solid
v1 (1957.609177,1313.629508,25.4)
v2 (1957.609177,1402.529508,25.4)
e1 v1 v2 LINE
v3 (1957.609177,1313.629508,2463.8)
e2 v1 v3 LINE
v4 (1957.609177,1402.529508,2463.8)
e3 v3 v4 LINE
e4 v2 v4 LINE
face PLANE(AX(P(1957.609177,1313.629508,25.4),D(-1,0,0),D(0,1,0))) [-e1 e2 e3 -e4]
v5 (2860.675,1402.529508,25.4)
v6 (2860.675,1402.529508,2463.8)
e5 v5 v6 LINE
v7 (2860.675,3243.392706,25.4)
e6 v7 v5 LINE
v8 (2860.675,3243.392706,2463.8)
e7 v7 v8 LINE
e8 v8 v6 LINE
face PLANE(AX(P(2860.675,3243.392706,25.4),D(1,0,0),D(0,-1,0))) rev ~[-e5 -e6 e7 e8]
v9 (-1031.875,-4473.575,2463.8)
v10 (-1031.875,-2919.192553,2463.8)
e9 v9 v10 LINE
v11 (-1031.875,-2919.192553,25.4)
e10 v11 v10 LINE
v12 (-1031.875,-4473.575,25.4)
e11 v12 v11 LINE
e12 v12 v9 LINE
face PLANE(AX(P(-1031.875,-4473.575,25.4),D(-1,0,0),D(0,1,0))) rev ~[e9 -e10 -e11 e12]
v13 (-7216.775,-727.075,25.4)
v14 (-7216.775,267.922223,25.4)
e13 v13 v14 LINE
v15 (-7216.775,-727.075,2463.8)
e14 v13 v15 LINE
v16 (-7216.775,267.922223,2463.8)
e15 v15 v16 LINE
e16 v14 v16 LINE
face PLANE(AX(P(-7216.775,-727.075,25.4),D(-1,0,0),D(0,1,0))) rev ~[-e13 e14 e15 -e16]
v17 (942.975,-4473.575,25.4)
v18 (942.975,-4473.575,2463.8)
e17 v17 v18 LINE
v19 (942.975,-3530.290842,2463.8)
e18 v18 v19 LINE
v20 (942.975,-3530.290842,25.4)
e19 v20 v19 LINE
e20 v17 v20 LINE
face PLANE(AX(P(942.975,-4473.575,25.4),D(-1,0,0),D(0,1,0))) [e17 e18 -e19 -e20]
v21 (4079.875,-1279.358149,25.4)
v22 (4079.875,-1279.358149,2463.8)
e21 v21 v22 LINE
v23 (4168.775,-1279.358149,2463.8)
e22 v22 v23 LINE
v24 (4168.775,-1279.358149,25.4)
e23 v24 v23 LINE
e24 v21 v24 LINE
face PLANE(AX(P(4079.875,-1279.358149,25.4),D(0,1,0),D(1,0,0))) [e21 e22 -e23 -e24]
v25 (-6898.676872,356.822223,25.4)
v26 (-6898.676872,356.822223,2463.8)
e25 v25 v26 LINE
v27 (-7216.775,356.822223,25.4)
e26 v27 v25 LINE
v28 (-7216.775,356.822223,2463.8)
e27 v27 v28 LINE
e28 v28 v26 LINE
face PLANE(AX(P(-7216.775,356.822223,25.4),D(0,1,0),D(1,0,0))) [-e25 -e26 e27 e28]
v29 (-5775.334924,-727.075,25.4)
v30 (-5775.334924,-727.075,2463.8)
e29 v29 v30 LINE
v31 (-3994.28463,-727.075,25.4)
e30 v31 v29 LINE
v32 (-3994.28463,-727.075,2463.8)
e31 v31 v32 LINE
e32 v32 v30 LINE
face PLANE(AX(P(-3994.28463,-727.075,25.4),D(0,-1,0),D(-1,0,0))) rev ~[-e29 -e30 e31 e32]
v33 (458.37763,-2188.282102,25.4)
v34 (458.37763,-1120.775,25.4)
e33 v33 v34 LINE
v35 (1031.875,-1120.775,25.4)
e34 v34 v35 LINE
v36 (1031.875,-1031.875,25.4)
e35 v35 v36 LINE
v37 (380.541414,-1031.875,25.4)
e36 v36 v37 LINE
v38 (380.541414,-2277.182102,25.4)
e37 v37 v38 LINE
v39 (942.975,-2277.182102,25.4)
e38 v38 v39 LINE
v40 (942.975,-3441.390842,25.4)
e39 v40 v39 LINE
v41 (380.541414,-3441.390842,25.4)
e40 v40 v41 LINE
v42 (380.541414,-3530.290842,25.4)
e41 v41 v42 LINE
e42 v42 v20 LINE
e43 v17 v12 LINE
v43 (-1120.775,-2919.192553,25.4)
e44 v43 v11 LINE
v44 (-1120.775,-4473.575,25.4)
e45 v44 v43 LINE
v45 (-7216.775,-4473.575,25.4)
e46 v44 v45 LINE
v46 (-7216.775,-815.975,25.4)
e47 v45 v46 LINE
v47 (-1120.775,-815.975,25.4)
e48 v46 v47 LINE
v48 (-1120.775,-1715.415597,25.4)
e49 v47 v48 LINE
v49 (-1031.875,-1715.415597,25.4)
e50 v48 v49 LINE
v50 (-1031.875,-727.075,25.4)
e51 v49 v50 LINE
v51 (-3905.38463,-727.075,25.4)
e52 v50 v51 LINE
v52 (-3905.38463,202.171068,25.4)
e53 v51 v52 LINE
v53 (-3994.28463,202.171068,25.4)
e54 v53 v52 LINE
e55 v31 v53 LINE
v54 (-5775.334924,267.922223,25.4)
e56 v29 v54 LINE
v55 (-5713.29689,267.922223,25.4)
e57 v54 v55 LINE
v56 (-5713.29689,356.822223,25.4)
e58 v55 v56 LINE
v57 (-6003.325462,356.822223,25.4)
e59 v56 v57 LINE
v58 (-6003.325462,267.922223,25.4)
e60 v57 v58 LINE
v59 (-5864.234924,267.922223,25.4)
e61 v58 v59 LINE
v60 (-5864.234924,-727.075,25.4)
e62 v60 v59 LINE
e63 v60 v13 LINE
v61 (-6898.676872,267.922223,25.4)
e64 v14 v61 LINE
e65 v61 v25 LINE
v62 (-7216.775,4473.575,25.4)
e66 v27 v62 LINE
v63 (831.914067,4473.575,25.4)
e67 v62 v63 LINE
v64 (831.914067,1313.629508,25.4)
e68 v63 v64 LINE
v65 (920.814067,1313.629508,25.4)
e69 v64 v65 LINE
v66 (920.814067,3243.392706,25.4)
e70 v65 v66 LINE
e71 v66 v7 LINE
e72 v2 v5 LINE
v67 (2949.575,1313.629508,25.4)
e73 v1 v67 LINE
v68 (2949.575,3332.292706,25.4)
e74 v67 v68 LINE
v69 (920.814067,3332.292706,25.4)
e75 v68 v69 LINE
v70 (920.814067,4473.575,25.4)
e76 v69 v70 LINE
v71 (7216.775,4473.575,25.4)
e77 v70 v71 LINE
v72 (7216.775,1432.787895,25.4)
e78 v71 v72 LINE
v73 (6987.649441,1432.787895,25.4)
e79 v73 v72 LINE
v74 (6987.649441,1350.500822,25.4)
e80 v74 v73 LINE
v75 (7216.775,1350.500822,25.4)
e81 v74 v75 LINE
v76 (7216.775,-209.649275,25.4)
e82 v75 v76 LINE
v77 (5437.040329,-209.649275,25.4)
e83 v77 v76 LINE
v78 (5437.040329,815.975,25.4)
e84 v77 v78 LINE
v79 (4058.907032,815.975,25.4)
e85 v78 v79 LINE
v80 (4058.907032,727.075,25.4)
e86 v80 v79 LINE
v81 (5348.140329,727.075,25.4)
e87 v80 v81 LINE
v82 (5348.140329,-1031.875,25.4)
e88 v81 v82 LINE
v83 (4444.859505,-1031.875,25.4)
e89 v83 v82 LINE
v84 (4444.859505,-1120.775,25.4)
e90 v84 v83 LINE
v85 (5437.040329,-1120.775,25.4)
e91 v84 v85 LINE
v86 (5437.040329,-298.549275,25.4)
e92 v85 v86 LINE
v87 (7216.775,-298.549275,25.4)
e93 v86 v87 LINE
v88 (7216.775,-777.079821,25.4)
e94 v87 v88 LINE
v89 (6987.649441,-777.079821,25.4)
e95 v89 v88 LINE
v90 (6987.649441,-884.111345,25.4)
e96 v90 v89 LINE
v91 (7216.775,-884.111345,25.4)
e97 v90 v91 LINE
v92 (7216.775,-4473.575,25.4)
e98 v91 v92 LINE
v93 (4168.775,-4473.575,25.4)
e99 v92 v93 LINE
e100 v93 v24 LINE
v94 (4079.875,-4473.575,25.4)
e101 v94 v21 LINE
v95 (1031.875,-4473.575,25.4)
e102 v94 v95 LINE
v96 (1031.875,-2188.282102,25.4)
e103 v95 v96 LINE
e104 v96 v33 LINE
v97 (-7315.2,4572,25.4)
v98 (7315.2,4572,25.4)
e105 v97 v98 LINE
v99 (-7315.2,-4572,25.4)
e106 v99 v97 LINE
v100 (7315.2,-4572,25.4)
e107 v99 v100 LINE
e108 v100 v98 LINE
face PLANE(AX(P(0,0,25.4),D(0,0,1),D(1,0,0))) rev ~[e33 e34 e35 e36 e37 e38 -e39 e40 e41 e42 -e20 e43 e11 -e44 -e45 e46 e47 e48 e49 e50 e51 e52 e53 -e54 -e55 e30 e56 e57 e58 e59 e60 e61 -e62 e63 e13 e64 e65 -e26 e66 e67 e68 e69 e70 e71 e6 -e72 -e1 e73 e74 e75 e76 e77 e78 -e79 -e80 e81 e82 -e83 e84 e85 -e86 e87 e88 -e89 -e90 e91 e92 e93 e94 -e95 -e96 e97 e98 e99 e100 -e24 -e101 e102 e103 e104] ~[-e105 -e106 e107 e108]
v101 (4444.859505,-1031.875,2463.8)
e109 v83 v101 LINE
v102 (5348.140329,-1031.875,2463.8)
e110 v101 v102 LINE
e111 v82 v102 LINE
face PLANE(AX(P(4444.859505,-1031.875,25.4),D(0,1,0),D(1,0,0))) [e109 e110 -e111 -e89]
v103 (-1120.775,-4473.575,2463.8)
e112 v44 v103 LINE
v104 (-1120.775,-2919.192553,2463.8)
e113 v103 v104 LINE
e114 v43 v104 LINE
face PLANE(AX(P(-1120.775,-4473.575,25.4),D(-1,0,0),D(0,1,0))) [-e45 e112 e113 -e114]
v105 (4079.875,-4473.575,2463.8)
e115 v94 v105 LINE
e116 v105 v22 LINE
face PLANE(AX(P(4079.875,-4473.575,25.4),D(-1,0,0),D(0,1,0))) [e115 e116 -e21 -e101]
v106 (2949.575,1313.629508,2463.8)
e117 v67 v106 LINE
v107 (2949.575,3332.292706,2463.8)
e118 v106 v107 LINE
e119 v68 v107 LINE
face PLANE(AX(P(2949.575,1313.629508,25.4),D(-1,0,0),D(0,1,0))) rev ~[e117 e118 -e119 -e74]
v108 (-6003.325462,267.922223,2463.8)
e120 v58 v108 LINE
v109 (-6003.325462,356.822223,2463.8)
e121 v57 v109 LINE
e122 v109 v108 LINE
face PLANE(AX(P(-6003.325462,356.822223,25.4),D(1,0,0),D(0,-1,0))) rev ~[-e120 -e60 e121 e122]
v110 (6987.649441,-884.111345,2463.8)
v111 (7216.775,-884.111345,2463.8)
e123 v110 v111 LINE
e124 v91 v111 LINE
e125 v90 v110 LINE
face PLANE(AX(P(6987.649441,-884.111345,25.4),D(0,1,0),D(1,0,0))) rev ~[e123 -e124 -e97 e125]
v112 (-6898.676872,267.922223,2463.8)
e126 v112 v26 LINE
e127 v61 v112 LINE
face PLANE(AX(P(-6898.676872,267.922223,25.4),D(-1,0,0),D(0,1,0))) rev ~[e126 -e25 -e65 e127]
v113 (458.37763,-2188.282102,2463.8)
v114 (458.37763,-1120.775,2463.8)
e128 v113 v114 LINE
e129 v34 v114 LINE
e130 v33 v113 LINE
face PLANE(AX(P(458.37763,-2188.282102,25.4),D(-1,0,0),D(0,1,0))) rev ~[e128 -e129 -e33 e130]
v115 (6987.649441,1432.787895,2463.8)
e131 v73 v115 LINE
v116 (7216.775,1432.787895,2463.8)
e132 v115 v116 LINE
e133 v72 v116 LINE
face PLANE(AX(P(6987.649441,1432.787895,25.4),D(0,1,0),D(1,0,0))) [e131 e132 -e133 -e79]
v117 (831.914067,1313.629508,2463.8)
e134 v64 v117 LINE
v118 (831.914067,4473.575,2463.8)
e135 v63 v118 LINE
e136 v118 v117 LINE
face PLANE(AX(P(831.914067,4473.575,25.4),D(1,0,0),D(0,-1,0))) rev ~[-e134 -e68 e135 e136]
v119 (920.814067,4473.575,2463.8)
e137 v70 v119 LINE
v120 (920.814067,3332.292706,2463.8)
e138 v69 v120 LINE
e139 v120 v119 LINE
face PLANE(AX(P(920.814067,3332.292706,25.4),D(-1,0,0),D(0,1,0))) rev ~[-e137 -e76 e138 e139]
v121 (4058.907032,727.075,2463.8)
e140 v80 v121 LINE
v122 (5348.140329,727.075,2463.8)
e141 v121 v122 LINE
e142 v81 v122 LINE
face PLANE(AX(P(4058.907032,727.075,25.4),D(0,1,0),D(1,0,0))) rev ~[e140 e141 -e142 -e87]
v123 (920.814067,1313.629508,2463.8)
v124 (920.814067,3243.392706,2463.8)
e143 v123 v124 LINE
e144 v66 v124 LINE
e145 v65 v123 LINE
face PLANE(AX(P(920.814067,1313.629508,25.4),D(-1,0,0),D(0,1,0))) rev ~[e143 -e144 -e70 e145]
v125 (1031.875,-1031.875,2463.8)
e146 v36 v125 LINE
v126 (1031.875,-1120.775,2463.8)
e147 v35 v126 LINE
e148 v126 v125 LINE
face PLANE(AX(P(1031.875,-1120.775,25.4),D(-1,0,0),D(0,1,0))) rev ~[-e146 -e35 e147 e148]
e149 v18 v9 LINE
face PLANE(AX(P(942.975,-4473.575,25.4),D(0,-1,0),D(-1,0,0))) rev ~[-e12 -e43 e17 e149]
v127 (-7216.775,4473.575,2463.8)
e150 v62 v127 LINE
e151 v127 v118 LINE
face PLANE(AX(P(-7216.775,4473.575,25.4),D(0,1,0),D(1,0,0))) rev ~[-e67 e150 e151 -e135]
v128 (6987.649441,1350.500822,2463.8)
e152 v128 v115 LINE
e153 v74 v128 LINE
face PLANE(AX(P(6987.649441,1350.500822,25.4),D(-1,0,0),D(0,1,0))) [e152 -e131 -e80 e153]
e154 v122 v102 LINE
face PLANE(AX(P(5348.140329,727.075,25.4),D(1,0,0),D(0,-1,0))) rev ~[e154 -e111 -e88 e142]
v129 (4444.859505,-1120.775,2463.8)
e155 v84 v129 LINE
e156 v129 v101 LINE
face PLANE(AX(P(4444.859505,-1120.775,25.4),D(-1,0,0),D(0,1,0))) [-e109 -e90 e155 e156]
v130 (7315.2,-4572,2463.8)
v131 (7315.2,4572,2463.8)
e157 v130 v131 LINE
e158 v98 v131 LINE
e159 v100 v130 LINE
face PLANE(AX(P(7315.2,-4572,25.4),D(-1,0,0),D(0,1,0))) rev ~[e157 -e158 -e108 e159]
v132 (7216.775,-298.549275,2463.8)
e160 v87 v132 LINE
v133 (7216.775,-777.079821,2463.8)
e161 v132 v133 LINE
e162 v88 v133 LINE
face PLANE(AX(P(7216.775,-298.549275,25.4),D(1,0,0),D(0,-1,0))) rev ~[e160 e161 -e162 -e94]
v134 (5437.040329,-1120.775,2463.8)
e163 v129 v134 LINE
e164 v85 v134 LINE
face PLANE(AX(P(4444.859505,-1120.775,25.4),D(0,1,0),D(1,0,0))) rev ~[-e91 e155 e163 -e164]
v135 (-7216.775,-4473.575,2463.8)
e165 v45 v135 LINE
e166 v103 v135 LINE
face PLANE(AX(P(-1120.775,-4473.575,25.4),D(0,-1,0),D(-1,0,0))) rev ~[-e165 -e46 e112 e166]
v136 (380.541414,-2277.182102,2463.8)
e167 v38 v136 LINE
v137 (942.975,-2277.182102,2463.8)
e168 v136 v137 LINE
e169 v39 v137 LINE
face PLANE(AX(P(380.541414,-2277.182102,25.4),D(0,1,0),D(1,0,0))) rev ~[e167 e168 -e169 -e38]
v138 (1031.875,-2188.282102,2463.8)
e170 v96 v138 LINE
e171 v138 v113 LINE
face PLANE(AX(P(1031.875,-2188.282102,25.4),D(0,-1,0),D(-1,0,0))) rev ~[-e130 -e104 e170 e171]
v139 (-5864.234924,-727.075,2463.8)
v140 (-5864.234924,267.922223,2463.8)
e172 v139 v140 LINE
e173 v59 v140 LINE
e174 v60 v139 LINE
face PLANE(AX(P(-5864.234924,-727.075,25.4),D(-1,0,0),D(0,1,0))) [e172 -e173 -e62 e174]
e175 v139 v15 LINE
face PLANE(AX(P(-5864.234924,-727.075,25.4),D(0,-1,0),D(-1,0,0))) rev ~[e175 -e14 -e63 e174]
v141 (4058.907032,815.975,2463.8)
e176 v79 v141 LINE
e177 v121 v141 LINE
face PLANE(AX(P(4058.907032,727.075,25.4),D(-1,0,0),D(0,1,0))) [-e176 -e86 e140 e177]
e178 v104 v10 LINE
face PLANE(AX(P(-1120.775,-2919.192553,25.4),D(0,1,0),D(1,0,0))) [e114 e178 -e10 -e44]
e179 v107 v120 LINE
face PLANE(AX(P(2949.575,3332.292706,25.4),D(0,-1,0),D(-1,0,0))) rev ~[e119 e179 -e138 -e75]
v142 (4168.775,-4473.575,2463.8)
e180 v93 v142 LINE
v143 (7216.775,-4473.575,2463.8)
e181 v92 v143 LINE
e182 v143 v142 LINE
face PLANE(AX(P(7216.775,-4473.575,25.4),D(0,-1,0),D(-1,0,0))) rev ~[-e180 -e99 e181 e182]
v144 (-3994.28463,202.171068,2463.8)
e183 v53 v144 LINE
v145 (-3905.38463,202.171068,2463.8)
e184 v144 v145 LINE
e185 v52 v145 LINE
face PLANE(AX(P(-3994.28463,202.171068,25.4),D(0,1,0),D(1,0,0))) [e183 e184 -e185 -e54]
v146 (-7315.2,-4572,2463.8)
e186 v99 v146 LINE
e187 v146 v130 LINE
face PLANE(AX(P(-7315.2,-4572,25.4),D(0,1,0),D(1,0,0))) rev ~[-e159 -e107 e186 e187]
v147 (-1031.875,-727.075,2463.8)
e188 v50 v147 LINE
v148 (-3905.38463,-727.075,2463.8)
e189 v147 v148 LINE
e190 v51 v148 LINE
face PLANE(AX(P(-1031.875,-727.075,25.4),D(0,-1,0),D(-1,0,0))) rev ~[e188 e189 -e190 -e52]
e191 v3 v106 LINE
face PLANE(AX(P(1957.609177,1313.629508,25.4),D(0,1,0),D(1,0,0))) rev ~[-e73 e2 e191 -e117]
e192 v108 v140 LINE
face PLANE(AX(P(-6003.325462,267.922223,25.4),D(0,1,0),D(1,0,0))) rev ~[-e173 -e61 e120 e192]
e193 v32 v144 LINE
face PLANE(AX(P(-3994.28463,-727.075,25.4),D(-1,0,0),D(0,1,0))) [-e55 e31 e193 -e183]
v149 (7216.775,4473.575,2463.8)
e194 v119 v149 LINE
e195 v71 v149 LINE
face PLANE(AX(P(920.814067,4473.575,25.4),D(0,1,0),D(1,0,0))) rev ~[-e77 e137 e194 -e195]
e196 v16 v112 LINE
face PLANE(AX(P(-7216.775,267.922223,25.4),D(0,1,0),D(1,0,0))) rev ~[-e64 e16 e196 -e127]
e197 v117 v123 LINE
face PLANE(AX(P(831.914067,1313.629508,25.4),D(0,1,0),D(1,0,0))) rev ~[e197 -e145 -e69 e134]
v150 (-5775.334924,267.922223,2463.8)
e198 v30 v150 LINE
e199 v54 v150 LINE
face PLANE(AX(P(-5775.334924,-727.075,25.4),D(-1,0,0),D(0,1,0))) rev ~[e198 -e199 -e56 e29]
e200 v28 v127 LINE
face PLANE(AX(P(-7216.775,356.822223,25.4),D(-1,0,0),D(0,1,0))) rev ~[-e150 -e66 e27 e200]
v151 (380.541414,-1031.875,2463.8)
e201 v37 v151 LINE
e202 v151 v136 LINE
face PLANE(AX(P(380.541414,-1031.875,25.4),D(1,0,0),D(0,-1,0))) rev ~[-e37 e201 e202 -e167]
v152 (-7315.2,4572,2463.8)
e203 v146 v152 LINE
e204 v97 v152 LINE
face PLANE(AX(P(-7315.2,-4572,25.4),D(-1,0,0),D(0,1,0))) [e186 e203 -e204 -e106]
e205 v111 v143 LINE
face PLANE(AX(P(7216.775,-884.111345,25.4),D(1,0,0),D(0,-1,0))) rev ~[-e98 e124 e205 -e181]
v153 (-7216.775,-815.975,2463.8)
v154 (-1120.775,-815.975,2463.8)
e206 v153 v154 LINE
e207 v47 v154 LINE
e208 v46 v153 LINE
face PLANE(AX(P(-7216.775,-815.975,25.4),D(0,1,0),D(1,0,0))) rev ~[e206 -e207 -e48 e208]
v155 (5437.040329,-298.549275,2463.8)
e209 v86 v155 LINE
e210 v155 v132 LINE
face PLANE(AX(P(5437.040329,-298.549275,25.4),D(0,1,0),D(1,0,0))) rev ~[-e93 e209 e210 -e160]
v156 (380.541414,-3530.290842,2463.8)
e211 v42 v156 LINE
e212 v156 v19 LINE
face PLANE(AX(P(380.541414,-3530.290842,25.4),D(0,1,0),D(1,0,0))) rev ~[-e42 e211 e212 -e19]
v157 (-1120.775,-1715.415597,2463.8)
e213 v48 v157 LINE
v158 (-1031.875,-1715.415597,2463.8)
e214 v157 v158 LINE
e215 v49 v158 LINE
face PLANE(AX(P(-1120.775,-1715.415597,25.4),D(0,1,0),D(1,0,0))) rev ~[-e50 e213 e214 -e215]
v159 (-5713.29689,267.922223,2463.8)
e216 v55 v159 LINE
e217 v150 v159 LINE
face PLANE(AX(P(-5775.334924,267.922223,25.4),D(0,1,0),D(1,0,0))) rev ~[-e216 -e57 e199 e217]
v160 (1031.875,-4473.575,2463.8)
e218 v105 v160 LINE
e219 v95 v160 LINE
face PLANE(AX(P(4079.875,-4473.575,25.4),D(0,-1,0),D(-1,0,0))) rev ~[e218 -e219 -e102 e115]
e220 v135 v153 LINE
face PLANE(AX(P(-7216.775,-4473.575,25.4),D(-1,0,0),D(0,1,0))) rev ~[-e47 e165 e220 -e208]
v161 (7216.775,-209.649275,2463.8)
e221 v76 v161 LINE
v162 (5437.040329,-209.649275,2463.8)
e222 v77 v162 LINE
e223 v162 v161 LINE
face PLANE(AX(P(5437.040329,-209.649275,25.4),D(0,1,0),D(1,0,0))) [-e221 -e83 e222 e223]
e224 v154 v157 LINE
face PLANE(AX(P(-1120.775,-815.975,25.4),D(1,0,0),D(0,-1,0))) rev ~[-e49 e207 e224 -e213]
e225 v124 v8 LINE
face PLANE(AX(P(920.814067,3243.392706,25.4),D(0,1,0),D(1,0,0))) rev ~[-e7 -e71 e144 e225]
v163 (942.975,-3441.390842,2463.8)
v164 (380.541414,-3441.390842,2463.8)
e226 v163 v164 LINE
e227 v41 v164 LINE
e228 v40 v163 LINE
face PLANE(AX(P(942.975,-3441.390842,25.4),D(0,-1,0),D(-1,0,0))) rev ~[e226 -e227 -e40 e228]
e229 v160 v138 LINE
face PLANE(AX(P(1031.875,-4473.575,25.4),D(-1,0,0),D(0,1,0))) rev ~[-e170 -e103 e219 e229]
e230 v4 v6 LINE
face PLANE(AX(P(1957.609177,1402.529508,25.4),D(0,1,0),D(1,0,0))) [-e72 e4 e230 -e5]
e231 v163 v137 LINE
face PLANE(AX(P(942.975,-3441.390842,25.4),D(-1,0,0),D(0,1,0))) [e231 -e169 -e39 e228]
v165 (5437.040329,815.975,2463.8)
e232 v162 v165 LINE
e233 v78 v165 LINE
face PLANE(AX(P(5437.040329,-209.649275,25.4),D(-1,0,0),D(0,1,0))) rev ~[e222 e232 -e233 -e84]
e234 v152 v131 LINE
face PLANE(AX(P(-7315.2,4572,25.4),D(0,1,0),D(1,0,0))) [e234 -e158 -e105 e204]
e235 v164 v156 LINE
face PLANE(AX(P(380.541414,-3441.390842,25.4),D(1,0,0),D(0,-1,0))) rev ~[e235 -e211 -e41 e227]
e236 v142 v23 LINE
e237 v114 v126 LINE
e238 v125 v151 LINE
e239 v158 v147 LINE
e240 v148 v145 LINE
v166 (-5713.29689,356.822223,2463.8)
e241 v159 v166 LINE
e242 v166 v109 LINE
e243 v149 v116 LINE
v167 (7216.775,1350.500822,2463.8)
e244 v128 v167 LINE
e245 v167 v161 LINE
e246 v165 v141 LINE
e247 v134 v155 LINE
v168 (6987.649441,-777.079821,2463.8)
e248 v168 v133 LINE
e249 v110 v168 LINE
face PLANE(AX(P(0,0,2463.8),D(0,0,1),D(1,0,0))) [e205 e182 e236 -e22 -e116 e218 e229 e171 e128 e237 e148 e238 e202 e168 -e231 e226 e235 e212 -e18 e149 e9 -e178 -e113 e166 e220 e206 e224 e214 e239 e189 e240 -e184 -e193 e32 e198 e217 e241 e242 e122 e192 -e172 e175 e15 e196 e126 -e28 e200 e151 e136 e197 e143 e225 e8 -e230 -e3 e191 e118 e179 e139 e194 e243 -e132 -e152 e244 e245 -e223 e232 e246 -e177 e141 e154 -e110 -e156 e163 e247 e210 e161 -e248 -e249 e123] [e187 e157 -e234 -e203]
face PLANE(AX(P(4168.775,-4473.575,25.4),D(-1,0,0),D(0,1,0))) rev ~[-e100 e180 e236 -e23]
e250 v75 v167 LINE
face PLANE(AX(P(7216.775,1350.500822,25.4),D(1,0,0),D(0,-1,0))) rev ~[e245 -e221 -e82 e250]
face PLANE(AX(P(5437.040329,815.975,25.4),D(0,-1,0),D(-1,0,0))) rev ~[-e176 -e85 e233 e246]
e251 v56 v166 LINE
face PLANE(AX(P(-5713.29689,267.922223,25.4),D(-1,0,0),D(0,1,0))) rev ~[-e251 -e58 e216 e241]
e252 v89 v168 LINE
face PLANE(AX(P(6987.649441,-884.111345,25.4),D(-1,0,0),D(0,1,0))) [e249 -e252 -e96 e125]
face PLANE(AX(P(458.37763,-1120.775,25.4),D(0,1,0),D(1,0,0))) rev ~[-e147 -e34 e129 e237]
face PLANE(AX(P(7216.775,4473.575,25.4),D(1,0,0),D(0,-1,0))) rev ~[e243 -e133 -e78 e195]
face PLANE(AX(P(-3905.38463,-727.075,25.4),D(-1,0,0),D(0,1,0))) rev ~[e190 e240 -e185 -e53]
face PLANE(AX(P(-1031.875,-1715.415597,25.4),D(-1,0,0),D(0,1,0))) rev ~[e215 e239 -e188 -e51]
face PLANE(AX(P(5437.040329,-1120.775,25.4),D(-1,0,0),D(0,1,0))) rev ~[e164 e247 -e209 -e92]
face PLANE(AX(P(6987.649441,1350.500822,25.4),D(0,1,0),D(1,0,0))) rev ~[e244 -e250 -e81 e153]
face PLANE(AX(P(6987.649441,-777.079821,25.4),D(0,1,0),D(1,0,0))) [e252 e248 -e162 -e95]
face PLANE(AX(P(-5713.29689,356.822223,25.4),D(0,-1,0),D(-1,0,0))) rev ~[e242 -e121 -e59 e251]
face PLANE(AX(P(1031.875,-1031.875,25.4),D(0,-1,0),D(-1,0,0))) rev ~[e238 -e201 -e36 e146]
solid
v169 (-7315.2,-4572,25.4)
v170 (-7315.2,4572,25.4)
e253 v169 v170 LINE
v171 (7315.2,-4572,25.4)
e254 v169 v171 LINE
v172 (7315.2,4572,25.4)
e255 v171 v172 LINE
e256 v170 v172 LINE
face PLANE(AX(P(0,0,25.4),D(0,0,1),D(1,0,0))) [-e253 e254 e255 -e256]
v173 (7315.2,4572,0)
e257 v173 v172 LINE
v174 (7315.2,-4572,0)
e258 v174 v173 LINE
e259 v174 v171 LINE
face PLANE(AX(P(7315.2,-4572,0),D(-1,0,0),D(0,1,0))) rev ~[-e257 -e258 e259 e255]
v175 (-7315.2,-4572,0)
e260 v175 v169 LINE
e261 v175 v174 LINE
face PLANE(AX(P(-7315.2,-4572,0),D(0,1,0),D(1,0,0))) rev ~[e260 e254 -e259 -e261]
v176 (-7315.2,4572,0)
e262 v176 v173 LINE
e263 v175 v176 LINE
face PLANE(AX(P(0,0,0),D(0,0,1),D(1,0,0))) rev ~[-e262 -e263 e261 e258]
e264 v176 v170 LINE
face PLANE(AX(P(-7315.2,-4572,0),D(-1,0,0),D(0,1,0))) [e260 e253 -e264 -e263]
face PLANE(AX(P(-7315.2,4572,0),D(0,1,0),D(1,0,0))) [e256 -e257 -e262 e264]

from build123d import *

# Parameters (mm, degrees)
F0_W     = 14630.4
F0_H     = 9144
F1_DEPTH = 25.4
F2_W     = 14630.4
F2_H     = 9144
F2_W_2   = 88.9
F2_H_2   = 3194.2168514252
F2_H_3   = 1929.7631978989
F2_W_3   = 1779.7346710205
F2_H_4   = 88.9
F2_H_5   = 1554.3824474335
F2_W_4   = 1289.2332969666
F2_H_6   = 1164.2087398529
F2_H_7   = 1141.2822940826
F2_H_8   = 994.9972226143
F2_H_9   = 943.2841579437
F2_W_5   = 77.8362154961
F2_H_10  = 1067.5071022034
F2_H_11  = 929.2460680008
F2_W_6   = 903.2808242798
F2_W_7   = 903.0658233643
F2_W_8   = 318.0981277466
F2_W_9   = 229.1255592346
F2_H_12  = 107.0315241814
F2_H_13  = 82.2870731354
F3_DEPTH = 2438.4


with BuildPart() as f1:
    # F0 (on Top) → F1 (new body)
    with BuildSketch(Plane.XY):
        Rectangle(F0_W, F0_H)
    extrude(amount=F1_DEPTH)


with BuildPart() as f3:
    # F2 (on face) → F3 (new body)
    with BuildSketch(Plane.XY.offset(25.4)):
        Rectangle(F2_W, F2_H)
        Polygon((-7216.775, 356.8222226143), (-7216.775, 4473.575), (831.9140672684, 4473.575), (920.8140672684, 4473.575), (7216.775, 4473.575), (7216.775, 1432.7878952026), (7216.775, 1350.5008220673), (7216.775, -209.6492750645), (7216.775, -298.5492750645), (7216.775, -777.0798206329), (7216.775, -884.1113448143), (7216.775, -4473.575), (4168.775, -4473.575), (4079.875, -4473.575), (1031.875, -4473.575), (942.975, -4473.575), (-1031.875, -4473.575), (-1120.775, -4473.575), (-7216.775, -4473.575), (-7216.775, -815.975), (-7216.775, -727.075), (-7216.775, 267.9222226143), align=None, mode=Mode.SUBTRACT)
        Polygon((-5864.2349243164, -727.075), (-7216.775, -727.075), (-7216.775, -815.975), (-1120.775, -815.975), (-1120.775, -727.075), (-3905.3846298218, -727.075), (-3994.2846298218, -727.075), (-5775.3349243164, -727.075), align=None)
        with Locations((4124.325, -2876.4665742874)):
            Rectangle(F2_W_2, F2_H_2)
        Polygon((920.8140672684, 3332.2927059174), (831.9140672684, 3332.2927059174), (831.9140672684, 3243.3927059174), (920.8140672684, 3243.3927059174), (2860.675, 3243.3927059174), (2860.675, 3332.2927059174), align=None)
        Polygon((2949.575, 3332.2927059174), (2860.675, 3332.2927059174), (2860.675, 3243.3927059174), (2860.675, 1402.5295080185), (2860.675, 1313.6295080185), (2949.575, 1313.6295080185), align=None)
        Polygon((5437.0403289795, -298.5492750645), (5437.0403289795, -209.6492750645), (5437.0403289795, 815.975), (5348.1403289795, 815.975), (5348.1403289795, 727.075), (5348.1403289795, -1031.875), (5348.1403289795, -1120.775), (5437.0403289795, -1120.775), align=None)
        with Locations((876.3640672684, 2278.5111069679)):
            Rectangle(F2_W_2, F2_H_3)
        with Locations((6326.9076644897, -254.0992750645)):
            Rectangle(F2_W_3, F2_H_4)
        with Locations((-1076.325, -3696.3837762833)):
            Rectangle(F2_W_2, F2_H_5)
        with Locations((4703.5236804962, 771.525)):
            Rectangle(F2_W_4, F2_H_4)
        with Locations((987.425, -2859.2864721298)):
            Rectangle(F2_W_2, F2_H_6)
        with Locations((876.3640672684, 3902.9338529587)):
            Rectangle(F2_W_2, F2_H_7)
        with Locations((-5819.7849243164, -229.5763886929)):
            Rectangle(F2_W_2, F2_H_8)
        Polygon((-1120.775, -727.075), (-1120.775, -815.975), (-1120.775, -1715.415596962), (-1031.875, -1715.415596962), (-1031.875, -727.075), align=None)
        with Locations((987.425, -4001.9329210281)):
            Rectangle(F2_W_2, F2_H_9)
        with Locations((419.4595217705, -1654.5285511017)):
            Rectangle(F2_W_5, F2_H_10)
        with Locations((-3949.8346298218, -262.4519659996)):
            Rectangle(F2_W_2, F2_H_11)
        with Locations((4896.4999168396, -1076.325)):
            Rectangle(F2_W_6, F2_H_4)
        with Locations((2409.1420883179, 1358.0795080185)):
            Rectangle(F2_W_7, F2_H_4)
        Polygon((380.5414140224, -3530.2908420563), (942.975, -3530.2908420563), (1031.875, -3530.2908420563), (1031.875, -3441.3908420563), (942.975, -3441.3908420563), (380.5414140224, -3441.3908420563), align=None)
        Polygon((942.975, -2277.1821022034), (1031.875, -2277.1821022034), (1031.875, -2188.2821022034), (458.3776295185, -2188.2821022034), (380.5414140224, -2188.2821022034), (380.5414140224, -2277.1821022034), align=None)
        Polygon((380.5414140224, -1120.775), (458.3776295185, -1120.775), (1031.875, -1120.775), (1031.875, -1031.875), (380.5414140224, -1031.875), align=None)
        with Locations((-7057.7259361267, 312.3722226143)):
            Rectangle(F2_W_8, F2_H_4)
        Polygon((-6003.3254623413, 267.9222226143), (-5864.2349243164, 267.9222226143), (-5775.3349243164, 267.9222226143), (-5713.2968902588, 267.9222226143), (-5713.2968902588, 356.8222226143), (-6003.3254623413, 356.8222226143), align=None)
        with Locations((7102.2122203827, -830.5955827236)):
            Rectangle(F2_W_9, F2_H_12)
        with Locations((7102.2122203827, 1391.6443586349)):
            Rectangle(F2_W_9, F2_H_13)
    extrude(amount=F3_DEPTH)


solid = Compound([f1.part, f3.part])
